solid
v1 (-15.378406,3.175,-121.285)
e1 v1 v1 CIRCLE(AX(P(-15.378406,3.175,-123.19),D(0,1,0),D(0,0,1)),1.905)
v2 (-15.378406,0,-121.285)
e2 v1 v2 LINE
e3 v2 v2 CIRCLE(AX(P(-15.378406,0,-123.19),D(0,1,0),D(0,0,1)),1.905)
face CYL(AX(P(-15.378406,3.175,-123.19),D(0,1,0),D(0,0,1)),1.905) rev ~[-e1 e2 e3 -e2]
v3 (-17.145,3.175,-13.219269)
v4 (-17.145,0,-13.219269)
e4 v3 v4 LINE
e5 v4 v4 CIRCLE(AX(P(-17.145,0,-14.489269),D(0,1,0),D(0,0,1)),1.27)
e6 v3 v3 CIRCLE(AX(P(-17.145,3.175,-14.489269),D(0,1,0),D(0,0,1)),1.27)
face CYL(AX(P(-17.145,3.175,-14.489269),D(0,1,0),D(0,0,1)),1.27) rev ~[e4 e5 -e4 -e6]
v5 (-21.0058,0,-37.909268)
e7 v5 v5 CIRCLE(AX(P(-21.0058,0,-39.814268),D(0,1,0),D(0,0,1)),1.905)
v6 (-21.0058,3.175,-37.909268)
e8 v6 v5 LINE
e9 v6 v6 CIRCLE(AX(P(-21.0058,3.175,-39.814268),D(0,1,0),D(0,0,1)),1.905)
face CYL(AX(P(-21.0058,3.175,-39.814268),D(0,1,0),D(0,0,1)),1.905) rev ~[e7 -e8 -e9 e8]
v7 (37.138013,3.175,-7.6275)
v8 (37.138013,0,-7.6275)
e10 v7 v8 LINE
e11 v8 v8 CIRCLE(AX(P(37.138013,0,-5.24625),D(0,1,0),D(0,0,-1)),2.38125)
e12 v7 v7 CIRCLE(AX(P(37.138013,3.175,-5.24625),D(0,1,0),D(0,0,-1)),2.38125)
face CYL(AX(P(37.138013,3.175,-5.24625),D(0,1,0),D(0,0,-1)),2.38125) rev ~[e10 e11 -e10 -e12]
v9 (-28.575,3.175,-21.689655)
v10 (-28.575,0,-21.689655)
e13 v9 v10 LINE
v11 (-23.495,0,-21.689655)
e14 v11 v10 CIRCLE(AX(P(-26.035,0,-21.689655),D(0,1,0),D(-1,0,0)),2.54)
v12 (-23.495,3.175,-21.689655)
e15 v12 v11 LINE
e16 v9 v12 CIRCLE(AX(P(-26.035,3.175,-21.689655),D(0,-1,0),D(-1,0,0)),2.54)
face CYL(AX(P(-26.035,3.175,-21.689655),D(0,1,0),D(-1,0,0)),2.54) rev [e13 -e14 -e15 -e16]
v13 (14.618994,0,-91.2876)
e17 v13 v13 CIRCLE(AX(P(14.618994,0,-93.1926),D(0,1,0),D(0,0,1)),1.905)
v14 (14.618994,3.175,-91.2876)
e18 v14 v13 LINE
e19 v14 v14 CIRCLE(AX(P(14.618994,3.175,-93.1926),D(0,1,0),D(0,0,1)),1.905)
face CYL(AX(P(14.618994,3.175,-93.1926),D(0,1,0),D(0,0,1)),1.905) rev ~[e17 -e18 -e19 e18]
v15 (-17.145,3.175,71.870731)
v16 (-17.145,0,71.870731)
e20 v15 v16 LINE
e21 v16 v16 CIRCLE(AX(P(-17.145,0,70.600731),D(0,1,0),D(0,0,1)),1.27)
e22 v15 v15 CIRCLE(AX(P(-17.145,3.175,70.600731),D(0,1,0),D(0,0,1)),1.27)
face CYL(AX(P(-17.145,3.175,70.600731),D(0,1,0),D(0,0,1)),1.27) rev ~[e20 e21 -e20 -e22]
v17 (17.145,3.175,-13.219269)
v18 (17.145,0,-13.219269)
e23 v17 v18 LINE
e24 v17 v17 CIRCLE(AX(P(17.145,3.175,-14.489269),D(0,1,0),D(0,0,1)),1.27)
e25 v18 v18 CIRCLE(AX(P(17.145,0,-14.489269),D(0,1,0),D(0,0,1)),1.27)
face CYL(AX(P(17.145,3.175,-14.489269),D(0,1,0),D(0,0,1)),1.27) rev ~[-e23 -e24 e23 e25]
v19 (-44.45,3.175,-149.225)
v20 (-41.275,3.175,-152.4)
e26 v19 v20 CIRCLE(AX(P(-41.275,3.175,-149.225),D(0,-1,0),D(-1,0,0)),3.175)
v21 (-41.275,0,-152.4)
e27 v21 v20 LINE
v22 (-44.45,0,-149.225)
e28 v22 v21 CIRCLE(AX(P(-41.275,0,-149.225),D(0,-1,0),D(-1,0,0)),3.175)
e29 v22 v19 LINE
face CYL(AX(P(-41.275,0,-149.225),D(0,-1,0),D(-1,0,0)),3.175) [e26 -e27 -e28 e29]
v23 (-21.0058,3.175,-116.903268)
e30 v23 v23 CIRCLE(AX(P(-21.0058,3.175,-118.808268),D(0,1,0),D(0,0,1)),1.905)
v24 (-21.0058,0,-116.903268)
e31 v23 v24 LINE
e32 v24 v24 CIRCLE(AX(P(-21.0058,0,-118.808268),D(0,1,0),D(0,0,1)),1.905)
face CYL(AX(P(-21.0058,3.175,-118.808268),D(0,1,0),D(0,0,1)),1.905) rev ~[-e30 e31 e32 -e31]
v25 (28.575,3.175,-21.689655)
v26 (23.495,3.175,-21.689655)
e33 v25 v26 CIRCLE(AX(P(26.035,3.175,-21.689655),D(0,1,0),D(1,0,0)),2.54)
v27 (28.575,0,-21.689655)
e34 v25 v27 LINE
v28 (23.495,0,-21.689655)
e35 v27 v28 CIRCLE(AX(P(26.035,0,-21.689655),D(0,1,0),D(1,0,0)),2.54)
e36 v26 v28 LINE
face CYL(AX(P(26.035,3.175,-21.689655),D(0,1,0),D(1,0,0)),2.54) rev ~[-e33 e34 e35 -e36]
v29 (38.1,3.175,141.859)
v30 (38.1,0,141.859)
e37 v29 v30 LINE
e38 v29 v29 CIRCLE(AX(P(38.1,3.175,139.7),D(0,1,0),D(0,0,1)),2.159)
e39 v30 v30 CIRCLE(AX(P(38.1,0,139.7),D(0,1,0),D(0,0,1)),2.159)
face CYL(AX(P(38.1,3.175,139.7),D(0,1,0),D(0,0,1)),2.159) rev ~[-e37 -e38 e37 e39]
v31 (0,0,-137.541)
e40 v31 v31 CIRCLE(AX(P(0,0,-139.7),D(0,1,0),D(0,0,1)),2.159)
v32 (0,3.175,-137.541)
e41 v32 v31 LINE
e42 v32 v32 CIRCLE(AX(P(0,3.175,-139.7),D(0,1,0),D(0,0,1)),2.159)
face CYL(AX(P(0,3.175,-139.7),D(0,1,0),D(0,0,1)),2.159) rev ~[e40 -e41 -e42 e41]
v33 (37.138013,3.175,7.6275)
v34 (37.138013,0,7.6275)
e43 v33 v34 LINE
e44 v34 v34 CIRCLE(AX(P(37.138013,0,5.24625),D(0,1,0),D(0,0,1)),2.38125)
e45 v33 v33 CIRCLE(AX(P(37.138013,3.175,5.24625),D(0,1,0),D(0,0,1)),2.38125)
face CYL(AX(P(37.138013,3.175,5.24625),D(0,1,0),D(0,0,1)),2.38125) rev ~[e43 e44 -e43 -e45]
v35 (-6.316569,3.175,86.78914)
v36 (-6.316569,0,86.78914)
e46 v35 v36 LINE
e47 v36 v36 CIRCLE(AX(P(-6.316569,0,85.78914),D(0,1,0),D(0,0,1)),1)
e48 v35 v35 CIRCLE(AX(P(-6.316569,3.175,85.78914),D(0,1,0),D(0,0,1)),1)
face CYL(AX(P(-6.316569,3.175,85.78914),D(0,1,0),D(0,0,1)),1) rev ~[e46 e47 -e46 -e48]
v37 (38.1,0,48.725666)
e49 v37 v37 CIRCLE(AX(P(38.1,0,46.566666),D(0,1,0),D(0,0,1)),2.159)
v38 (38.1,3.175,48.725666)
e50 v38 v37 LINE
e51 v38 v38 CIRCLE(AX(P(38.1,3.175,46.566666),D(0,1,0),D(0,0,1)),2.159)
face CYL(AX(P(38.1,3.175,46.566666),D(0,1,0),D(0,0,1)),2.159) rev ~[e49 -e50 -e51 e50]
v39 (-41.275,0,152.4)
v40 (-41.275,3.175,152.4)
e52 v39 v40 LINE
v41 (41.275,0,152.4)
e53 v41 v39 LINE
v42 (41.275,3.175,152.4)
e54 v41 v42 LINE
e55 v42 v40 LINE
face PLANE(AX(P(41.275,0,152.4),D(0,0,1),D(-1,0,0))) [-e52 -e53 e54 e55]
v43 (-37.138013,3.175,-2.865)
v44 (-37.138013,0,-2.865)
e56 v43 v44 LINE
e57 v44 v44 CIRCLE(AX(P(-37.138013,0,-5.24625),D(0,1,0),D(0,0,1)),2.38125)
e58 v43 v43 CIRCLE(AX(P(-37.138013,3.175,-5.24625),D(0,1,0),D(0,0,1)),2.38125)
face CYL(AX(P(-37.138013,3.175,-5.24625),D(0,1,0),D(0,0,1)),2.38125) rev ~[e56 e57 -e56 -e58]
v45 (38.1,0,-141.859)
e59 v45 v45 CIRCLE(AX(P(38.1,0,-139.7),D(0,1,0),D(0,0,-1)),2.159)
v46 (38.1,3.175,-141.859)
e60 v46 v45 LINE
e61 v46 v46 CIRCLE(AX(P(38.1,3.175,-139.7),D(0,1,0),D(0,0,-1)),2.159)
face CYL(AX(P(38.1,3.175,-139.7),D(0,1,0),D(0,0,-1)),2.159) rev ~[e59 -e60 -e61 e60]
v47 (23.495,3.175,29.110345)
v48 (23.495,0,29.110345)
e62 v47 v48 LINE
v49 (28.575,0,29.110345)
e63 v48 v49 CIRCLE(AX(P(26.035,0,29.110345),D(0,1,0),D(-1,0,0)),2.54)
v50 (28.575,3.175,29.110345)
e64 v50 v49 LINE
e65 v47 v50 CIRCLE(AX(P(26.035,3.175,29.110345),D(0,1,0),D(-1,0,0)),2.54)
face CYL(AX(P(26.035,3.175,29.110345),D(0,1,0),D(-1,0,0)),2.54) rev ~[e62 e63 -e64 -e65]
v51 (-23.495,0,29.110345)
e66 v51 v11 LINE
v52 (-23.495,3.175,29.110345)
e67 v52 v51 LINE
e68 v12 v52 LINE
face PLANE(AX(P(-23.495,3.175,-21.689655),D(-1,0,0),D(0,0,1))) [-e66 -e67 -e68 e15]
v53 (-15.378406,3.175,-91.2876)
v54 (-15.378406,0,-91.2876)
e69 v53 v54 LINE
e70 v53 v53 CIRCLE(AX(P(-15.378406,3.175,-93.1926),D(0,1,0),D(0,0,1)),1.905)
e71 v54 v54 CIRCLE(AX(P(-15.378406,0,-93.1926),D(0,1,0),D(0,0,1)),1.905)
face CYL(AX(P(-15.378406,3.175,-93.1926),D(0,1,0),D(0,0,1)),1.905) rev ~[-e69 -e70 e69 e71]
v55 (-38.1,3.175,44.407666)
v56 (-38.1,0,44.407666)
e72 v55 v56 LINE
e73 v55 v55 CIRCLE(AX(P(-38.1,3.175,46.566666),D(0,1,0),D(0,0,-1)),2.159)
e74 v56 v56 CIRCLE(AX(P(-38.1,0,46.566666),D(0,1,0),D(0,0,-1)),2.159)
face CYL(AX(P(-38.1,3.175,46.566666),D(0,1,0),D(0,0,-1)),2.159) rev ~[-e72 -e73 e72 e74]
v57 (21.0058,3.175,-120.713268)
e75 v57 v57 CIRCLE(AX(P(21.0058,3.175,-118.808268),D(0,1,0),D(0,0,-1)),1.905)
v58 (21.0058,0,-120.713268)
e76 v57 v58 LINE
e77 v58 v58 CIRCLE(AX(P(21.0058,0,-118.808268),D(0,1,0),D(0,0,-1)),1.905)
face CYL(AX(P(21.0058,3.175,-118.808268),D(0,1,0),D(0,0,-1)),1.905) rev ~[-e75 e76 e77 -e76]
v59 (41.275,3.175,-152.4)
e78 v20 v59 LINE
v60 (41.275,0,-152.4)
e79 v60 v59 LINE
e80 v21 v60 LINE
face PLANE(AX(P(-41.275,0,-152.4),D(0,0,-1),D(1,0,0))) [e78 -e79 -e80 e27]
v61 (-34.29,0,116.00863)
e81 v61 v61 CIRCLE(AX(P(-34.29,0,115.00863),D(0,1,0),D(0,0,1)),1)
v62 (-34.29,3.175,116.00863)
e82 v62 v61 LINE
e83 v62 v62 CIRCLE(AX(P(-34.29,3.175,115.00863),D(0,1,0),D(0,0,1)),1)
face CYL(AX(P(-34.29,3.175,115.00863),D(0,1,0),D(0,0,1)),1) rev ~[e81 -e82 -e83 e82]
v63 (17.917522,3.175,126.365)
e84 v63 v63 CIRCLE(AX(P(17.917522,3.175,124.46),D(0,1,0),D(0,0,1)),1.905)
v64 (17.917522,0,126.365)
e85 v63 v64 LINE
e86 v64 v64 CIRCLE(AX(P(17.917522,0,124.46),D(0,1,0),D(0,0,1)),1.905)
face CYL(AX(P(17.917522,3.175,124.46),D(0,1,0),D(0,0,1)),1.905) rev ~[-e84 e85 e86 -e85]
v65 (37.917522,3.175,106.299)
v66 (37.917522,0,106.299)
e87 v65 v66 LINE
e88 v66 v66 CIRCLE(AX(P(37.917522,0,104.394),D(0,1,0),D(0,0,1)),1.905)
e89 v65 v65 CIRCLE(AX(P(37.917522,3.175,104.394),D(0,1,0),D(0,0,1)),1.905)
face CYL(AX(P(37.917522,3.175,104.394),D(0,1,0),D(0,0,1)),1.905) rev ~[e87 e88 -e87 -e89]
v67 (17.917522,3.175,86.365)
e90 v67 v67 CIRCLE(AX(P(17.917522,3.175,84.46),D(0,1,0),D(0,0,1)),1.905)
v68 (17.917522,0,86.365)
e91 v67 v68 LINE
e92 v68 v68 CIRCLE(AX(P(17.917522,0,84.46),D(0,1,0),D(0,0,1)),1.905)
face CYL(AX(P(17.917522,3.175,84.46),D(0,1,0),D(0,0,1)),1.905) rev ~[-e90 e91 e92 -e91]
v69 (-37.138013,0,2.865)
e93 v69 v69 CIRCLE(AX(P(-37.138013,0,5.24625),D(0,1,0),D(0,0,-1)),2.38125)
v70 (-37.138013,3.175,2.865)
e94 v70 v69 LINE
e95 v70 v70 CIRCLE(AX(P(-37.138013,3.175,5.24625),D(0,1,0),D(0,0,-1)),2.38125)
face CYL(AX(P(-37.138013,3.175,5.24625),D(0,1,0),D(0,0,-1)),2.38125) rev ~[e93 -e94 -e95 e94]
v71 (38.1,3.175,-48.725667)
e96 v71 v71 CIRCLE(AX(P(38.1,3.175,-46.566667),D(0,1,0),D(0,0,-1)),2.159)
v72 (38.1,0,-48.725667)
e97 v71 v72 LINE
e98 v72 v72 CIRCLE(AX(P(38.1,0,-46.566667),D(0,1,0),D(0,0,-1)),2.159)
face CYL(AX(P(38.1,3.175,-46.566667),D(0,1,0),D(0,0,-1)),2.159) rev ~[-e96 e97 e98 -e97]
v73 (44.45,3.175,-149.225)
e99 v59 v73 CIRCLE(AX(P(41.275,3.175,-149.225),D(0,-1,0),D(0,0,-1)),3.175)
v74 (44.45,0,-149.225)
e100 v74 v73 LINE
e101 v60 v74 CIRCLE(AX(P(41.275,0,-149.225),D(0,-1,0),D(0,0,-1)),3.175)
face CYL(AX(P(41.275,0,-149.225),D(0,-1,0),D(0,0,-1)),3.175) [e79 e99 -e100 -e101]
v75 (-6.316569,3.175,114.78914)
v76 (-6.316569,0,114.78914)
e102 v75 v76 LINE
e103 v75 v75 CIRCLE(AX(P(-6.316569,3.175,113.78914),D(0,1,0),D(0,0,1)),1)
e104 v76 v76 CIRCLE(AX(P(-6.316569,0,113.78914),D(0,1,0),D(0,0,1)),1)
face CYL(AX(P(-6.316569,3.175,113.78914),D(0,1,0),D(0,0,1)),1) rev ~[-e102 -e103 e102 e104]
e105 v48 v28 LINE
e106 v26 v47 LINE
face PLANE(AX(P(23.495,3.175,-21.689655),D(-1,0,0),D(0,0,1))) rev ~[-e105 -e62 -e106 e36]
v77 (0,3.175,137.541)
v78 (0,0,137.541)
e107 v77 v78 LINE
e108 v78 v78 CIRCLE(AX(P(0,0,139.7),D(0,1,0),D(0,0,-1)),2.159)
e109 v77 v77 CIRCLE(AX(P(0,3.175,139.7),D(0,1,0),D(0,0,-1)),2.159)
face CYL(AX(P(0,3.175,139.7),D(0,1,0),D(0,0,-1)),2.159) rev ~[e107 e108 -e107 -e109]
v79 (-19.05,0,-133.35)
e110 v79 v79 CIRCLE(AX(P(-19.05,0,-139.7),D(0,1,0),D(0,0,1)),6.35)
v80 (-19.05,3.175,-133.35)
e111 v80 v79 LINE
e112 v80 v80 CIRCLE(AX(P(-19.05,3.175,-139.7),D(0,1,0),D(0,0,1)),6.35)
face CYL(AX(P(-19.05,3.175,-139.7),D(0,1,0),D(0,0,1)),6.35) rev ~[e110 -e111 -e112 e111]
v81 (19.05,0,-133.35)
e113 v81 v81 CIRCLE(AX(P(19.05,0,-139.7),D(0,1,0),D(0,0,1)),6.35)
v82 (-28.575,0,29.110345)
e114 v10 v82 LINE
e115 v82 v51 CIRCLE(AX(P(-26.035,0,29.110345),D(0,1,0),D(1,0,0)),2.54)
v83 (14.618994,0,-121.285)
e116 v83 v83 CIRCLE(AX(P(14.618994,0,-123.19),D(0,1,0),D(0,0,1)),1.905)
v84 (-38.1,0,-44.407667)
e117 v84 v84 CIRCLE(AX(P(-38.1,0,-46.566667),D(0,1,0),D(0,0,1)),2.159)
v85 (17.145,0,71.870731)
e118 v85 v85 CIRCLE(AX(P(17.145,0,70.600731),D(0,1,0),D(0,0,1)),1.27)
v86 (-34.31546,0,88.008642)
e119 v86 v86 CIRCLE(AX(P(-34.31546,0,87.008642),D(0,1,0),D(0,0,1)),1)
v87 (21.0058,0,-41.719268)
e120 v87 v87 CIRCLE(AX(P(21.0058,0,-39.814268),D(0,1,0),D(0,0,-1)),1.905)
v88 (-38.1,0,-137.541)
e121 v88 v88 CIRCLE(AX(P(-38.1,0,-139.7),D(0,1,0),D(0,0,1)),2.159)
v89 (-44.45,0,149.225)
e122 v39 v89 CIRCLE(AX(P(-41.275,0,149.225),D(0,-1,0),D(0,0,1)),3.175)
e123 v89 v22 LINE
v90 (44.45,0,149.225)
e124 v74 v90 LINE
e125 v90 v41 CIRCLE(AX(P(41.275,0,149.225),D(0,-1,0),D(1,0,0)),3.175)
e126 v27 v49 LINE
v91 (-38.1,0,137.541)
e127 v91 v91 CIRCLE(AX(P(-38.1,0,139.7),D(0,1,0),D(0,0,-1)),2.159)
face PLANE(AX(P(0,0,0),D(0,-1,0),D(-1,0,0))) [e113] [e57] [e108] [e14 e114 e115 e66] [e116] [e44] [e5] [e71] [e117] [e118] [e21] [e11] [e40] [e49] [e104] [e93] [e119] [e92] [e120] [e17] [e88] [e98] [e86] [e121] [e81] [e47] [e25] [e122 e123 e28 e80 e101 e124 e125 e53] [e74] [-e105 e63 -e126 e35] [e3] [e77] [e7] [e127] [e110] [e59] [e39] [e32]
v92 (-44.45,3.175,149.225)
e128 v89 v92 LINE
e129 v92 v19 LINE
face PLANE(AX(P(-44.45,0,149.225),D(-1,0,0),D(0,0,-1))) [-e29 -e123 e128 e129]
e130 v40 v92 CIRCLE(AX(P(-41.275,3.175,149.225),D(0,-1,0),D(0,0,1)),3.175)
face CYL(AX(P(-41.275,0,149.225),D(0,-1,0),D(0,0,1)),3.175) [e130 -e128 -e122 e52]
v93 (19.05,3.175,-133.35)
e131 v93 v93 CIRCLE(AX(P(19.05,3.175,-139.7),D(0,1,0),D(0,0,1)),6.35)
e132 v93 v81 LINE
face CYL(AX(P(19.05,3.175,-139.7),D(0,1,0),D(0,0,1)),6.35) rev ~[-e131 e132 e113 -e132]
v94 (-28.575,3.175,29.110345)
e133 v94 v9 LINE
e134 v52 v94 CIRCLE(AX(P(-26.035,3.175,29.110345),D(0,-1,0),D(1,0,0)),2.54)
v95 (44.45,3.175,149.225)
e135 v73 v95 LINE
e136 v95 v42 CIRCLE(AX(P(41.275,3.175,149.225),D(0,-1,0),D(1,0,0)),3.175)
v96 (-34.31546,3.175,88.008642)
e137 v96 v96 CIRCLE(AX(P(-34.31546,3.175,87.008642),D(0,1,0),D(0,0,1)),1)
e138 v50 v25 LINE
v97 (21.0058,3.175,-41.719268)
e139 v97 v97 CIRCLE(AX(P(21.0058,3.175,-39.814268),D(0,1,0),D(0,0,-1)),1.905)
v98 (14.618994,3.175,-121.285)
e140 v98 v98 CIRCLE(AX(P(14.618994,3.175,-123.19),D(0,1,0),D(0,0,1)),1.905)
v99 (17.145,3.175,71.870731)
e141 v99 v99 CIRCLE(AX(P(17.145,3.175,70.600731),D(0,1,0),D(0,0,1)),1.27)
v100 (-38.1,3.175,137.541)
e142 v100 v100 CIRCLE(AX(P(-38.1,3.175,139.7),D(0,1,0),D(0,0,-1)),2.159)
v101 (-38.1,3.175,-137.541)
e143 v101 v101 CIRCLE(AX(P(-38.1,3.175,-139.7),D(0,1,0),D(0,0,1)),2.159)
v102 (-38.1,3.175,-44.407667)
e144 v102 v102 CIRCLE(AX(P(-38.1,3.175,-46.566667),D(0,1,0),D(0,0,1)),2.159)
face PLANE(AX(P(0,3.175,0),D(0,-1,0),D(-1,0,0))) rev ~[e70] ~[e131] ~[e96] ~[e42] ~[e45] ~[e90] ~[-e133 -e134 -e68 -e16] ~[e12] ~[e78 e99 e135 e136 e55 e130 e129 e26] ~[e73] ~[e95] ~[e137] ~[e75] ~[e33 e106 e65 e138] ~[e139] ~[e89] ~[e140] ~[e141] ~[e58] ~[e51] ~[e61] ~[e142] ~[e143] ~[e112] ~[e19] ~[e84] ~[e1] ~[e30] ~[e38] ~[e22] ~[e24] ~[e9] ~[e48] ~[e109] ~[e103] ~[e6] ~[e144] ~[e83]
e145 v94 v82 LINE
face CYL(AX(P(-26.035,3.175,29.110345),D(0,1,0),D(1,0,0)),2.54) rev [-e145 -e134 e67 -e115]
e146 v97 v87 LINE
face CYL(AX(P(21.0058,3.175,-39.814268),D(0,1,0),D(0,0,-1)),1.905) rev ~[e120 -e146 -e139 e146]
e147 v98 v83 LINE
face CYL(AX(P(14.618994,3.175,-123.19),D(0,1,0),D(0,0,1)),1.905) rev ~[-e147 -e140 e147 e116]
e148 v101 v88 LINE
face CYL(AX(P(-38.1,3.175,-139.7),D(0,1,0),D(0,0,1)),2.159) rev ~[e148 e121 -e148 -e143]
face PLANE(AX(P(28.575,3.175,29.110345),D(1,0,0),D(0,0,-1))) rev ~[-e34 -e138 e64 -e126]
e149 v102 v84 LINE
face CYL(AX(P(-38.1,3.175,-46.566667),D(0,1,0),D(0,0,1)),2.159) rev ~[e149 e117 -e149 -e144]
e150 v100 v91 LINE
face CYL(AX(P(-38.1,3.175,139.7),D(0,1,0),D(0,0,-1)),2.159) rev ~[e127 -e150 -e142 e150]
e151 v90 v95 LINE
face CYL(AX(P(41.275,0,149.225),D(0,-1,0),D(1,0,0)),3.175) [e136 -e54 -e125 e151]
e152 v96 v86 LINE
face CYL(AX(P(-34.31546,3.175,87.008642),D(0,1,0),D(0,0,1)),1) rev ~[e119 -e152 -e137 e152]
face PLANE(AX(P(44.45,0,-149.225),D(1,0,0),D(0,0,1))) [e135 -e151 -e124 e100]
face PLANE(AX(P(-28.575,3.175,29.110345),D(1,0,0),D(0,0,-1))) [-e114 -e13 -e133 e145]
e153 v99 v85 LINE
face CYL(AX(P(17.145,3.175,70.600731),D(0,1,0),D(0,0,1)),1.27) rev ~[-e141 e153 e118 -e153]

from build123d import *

# Parameters (mm, degrees)
PLATE_THICKNESS_DEPTH        = 3.175
SKETCH3_R                    = 2.159
MOUNTING_HOLES_DEPTH         = 159.781746826
SKETCH4_R                    = 1.905
JETSON_HOLES_W_O_MOUNT_DEPTH = 159.781746826
SKETCH5_R                    = 1.905
PDB_HOLES_DEPTH              = 159.781746826
SKETCH7_R                    = 1.27
PIXHAWK_HOLES_DEPTH          = 159.781746826
BATTERY_HOLES_DEPTH          = 159.781746826
VENTRAL_CAMERA_HOLES_REACH   = 160.782
SKETCH10_R                   = 1
SKETCH12_R                   = 6.35
WIFI_ANTENNA_HOLES_DEPTH     = 159.781746826
SKETCH6_R                    = 1.905
TERARANGER_HOLES_DEPTH       = 159.781746826
SKETCH14_R                   = 2.38125
SONARHOLES_DEPTH             = 159.781746826


with BuildPart() as part:
    # Sketch2 → Plate Thickness (new body)
    with BuildSketch(Plane(origin=(0, 0, 0), x_dir=(1, 0, 0), z_dir=(0, 1, 0))):
        with BuildLine():
            Line((-41.275, 152.4), (41.275, 152.4))
            ThreePointArc((41.275, 152.4), (43.52006403, 151.47006403), (44.45, 149.225))
            Line((44.45, 149.225), (44.45, -149.225))
            ThreePointArc((44.45, -149.225), (43.52006403, -151.47006403), (41.275, -152.4))
            Line((41.275, -152.4), (-41.275, -152.4))
            ThreePointArc((-41.275, -152.4), (-43.52006403, -151.47006403), (-44.45, -149.225))
            Line((-44.45, -149.225), (-44.45, 149.225))
            ThreePointArc((-44.45, 149.225), (-43.52006403, 151.47006403), (-41.275, 152.4))
        make_face()
    extrude(amount=PLATE_THICKNESS_DEPTH)

    # Sketch3 → Mounting holes (cut, through all)
    with BuildSketch(Plane(origin=(0, 3.175, 0), x_dir=(1, 0, 0), z_dir=(0, 1, 0))):
        with Locations(Location((-38.1, 139.7, 0), (0, 0, 270))):
            Circle(SKETCH3_R)
        with Locations(Location((-38.1, 46.566666666, 0), (0, 0, 270))):
            Circle(SKETCH3_R)
        with Locations(Location((-38.1, -46.56666582, 0), (0, 0, 90))):
            Circle(SKETCH3_R)
        with Locations(Location((-38.1, -139.7, 0), (0, 0, 90))):
            Circle(SKETCH3_R)
        with Locations(Location((38.1, -139.7, 0), (0, 0, 270))):
            Circle(SKETCH3_R)
        with Locations(Location((38.1, -46.56666582, 0), (0, 0, 270))):
            Circle(SKETCH3_R)
        with Locations(Location((38.1, 46.566666666, 0), (0, 0, 90))):
            Circle(SKETCH3_R)
        with Locations(Location((38.1, 139.7, 0), (0, 0, 90))):
            Circle(SKETCH3_R)
        with Locations(Location((0, 139.7, 0), (0, 0, 270))):
            Circle(SKETCH3_R)
        with Locations(Location((0, -139.7, 0), (0, 0, 90))):
            Circle(SKETCH3_R)
    extrude(amount=-MOUNTING_HOLES_DEPTH, mode=Mode.SUBTRACT)

    # Sketch4 → Jetson Holes (w/o mount) (cut, through all)
    with BuildSketch(Plane(origin=(0, 3.175, 0), x_dir=(1, 0, 0), z_dir=(0, 1, 0))):
        with Locations(Location((-21.0058, 118.808268359, 0), (0, 0, 270))):
            Circle(SKETCH4_R)
        with Locations(Location((-21.0058, 39.814268359, 0), (0, 0, 270))):
            Circle(SKETCH4_R)
        with Locations(Location((21.0058, 39.814268359, 0), (0, 0, 90))):
            Circle(SKETCH4_R)
        with Locations(Location((21.0058, 118.808268359, 0), (0, 0, 90))):
            Circle(SKETCH4_R)
    extrude(amount=-JETSON_HOLES_W_O_MOUNT_DEPTH, mode=Mode.SUBTRACT)

    # Sketch5 → PDB holes (cut, through all)
    with BuildSketch(Plane(origin=(0, 3.175, 0), x_dir=(1, 0, 0), z_dir=(0, 1, 0))):
        with Locations(Location((-15.378405846, 123.19, 0), (0, 0, 270))):
            Circle(SKETCH5_R)
        with Locations(Location((14.618994154, 123.19, 0), (0, 0, 270))):
            Circle(SKETCH5_R)
        with Locations(Location((14.618994154, 93.1926, 0), (0, 0, 270))):
            Circle(SKETCH5_R)
        with Locations(Location((-15.378405846, 93.1926, 0), (0, 0, 270))):
            Circle(SKETCH5_R)
    extrude(amount=-PDB_HOLES_DEPTH, mode=Mode.SUBTRACT)

    # Sketch7 → PixHawk Holes (cut, through all)
    with BuildSketch(Plane(origin=(0, 3.175, 0), x_dir=(1, 0, 0), z_dir=(0, 1, 0))):
        with Locations(Location((-17.145, 14.489268954, 0), (0, 0, 270))):
            Circle(SKETCH7_R)
        with Locations(Location((-17.145, -70.600731046, 0), (0, 0, 270))):
            Circle(SKETCH7_R)
        with Locations(Location((17.145, -70.600731046, 0), (0, 0, 270))):
            Circle(SKETCH7_R)
        with Locations(Location((17.145, 14.489268954, 0), (0, 0, 270))):
            Circle(SKETCH7_R)
    extrude(amount=-PIXHAWK_HOLES_DEPTH, mode=Mode.SUBTRACT)

    # Sketch8 → Battery Holes (cut, through all)
    with BuildSketch(Plane(origin=(0, 3.175, 0), x_dir=(1, 0, 0), z_dir=(0, 1, 0))):
        with BuildLine():
            Line((-23.495, 21.689654687), (-23.495, -29.110345313))
            ThreePointArc((-23.495, -29.110345313), (-26.035, -31.650345313), (-28.575, -29.110345313))
            Line((-28.575, -29.110345313), (-28.575, 21.689654687))
            ThreePointArc((-28.575, 21.689654687), (-26.035, 24.229654687), (-23.495, 21.689654687))
        make_face()
        with BuildLine():
            Line((23.495, 21.689654687), (23.495, -29.110345313))
            ThreePointArc((23.495, -29.110345313), (26.035, -31.650345313), (28.575, -29.110345313))
            Line((28.575, -29.110345313), (28.575, 21.689654687))
            ThreePointArc((28.575, 21.689654687), (26.035, 24.229654687), (23.495, 21.689654687))
        make_face()
    extrude(amount=-BATTERY_HOLES_DEPTH, mode=Mode.SUBTRACT)

    # Sketch10 → Ventral Camera holes (cut, up to next)
    with BuildSketch(Plane(origin=(0, 3.175, 0), x_dir=(1, 0, 0), z_dir=(0, 1, 0)), mode=Mode.PRIVATE) as ventral_camera_holes_sk1:
        with Locations(Location((-34.315460092, -87.008641581, 0), (0, 0, 270))):
            Circle(SKETCH10_R)
    ventral_camera_holes_tool1 = extrude(ventral_camera_holes_sk1.sketch, amount=-VENTRAL_CAMERA_HOLES_REACH, mode=Mode.PRIVATE) & part.part
    # Sketch10 → Ventral Camera holes (cut, up to next)
    with BuildSketch(Plane(origin=(0, 3.175, 0), x_dir=(1, 0, 0), z_dir=(0, 1, 0)), mode=Mode.PRIVATE) as ventral_camera_holes_sk2:
        with Locations(Location((-34.29, -115.008630005, 0), (0, 0, 270))):
            Circle(SKETCH10_R)
    ventral_camera_holes_tool2 = extrude(ventral_camera_holes_sk2.sketch, amount=-VENTRAL_CAMERA_HOLES_REACH, mode=Mode.PRIVATE) & part.part
    # Sketch10 → Ventral Camera holes (cut, up to next)
    with BuildSketch(Plane(origin=(0, 3.175, 0), x_dir=(1, 0, 0), z_dir=(0, 1, 0)), mode=Mode.PRIVATE) as ventral_camera_holes_sk3:
        with Locations(Location((-6.316568972, -85.789139736, 0), (0, 0, 270))):
            Circle(SKETCH10_R)
    ventral_camera_holes_tool3 = extrude(ventral_camera_holes_sk3.sketch, amount=-VENTRAL_CAMERA_HOLES_REACH, mode=Mode.PRIVATE) & part.part
    # Sketch10 → Ventral Camera holes (cut, up to next)
    with BuildSketch(Plane(origin=(0, 3.175, 0), x_dir=(1, 0, 0), z_dir=(0, 1, 0)), mode=Mode.PRIVATE) as ventral_camera_holes_sk4:
        with Locations(Location((-6.316568972, -113.789139736, 0), (0, 0, 270))):
            Circle(SKETCH10_R)
    ventral_camera_holes_tool4 = extrude(ventral_camera_holes_sk4.sketch, amount=-VENTRAL_CAMERA_HOLES_REACH, mode=Mode.PRIVATE) & part.part
    add(ventral_camera_holes_tool1.solids().sort_by_distance((-34.31546, 3.175, 87.008642))[0], mode=Mode.SUBTRACT)
    add(ventral_camera_holes_tool2.solids().sort_by_distance((-34.29, 3.175, 115.00863))[0], mode=Mode.SUBTRACT)
    add(ventral_camera_holes_tool3.solids().sort_by_distance((-6.316569, 3.175, 85.78914))[0], mode=Mode.SUBTRACT)
    add(ventral_camera_holes_tool4.solids().sort_by_distance((-6.316569, 3.175, 113.78914))[0], mode=Mode.SUBTRACT)

    # Sketch12 → Wifi antenna holes (cut, through all)
    with BuildSketch(Plane(origin=(0, 3.175, 0), x_dir=(1, 0, 0), z_dir=(0, 1, 0))):
        with Locations(Location((-19.05, 139.7, 0), (0, 0, 270))):
            Circle(SKETCH12_R)
        with Locations(Location((19.05, 139.7, 0), (0, 0, 270))):
            Circle(SKETCH12_R)
    extrude(amount=-WIFI_ANTENNA_HOLES_DEPTH, mode=Mode.SUBTRACT)

    # Sketch6 → TeraRanger Holes (cut, through all)
    with BuildSketch(Plane(origin=(0, 3.175, 0), x_dir=(1, 0, 0), z_dir=(0, 1, 0))):
        with Locations(Location((37.917522463, -104.394, 0), (0, 0, 270))):
            Circle(SKETCH6_R)
        with Locations(Location((17.917522463, -84.46, 0), (0, 0, 270))):
            Circle(SKETCH6_R)
        with Locations(Location((17.917522463, -124.46, 0), (0, 0, 270))):
            Circle(SKETCH6_R)
    extrude(amount=-TERARANGER_HOLES_DEPTH, mode=Mode.SUBTRACT)

    # Sketch14 → Sonarholes (cut, through all)
    with BuildSketch(Plane(origin=(0, 3.175, 0), x_dir=(1, 0, 0), z_dir=(0, 1, 0))):
        with Locations(Location((-37.138013211, 5.246249985, 0), (0, 0, 270))):
            Circle(SKETCH14_R)
        with Locations(Location((-37.138013211, -5.246249985, 0), (0, 0, 90))):
            Circle(SKETCH14_R)
        with Locations(Location((37.138013211, -5.246249985, 0), (0, 0, 270))):
            Circle(SKETCH14_R)
        with Locations(Location((37.138013211, 5.246249985, 0), (0, 0, 90))):
            Circle(SKETCH14_R)
    extrude(amount=-SONARHOLES_DEPTH, mode=Mode.SUBTRACT)


solid = part.part
